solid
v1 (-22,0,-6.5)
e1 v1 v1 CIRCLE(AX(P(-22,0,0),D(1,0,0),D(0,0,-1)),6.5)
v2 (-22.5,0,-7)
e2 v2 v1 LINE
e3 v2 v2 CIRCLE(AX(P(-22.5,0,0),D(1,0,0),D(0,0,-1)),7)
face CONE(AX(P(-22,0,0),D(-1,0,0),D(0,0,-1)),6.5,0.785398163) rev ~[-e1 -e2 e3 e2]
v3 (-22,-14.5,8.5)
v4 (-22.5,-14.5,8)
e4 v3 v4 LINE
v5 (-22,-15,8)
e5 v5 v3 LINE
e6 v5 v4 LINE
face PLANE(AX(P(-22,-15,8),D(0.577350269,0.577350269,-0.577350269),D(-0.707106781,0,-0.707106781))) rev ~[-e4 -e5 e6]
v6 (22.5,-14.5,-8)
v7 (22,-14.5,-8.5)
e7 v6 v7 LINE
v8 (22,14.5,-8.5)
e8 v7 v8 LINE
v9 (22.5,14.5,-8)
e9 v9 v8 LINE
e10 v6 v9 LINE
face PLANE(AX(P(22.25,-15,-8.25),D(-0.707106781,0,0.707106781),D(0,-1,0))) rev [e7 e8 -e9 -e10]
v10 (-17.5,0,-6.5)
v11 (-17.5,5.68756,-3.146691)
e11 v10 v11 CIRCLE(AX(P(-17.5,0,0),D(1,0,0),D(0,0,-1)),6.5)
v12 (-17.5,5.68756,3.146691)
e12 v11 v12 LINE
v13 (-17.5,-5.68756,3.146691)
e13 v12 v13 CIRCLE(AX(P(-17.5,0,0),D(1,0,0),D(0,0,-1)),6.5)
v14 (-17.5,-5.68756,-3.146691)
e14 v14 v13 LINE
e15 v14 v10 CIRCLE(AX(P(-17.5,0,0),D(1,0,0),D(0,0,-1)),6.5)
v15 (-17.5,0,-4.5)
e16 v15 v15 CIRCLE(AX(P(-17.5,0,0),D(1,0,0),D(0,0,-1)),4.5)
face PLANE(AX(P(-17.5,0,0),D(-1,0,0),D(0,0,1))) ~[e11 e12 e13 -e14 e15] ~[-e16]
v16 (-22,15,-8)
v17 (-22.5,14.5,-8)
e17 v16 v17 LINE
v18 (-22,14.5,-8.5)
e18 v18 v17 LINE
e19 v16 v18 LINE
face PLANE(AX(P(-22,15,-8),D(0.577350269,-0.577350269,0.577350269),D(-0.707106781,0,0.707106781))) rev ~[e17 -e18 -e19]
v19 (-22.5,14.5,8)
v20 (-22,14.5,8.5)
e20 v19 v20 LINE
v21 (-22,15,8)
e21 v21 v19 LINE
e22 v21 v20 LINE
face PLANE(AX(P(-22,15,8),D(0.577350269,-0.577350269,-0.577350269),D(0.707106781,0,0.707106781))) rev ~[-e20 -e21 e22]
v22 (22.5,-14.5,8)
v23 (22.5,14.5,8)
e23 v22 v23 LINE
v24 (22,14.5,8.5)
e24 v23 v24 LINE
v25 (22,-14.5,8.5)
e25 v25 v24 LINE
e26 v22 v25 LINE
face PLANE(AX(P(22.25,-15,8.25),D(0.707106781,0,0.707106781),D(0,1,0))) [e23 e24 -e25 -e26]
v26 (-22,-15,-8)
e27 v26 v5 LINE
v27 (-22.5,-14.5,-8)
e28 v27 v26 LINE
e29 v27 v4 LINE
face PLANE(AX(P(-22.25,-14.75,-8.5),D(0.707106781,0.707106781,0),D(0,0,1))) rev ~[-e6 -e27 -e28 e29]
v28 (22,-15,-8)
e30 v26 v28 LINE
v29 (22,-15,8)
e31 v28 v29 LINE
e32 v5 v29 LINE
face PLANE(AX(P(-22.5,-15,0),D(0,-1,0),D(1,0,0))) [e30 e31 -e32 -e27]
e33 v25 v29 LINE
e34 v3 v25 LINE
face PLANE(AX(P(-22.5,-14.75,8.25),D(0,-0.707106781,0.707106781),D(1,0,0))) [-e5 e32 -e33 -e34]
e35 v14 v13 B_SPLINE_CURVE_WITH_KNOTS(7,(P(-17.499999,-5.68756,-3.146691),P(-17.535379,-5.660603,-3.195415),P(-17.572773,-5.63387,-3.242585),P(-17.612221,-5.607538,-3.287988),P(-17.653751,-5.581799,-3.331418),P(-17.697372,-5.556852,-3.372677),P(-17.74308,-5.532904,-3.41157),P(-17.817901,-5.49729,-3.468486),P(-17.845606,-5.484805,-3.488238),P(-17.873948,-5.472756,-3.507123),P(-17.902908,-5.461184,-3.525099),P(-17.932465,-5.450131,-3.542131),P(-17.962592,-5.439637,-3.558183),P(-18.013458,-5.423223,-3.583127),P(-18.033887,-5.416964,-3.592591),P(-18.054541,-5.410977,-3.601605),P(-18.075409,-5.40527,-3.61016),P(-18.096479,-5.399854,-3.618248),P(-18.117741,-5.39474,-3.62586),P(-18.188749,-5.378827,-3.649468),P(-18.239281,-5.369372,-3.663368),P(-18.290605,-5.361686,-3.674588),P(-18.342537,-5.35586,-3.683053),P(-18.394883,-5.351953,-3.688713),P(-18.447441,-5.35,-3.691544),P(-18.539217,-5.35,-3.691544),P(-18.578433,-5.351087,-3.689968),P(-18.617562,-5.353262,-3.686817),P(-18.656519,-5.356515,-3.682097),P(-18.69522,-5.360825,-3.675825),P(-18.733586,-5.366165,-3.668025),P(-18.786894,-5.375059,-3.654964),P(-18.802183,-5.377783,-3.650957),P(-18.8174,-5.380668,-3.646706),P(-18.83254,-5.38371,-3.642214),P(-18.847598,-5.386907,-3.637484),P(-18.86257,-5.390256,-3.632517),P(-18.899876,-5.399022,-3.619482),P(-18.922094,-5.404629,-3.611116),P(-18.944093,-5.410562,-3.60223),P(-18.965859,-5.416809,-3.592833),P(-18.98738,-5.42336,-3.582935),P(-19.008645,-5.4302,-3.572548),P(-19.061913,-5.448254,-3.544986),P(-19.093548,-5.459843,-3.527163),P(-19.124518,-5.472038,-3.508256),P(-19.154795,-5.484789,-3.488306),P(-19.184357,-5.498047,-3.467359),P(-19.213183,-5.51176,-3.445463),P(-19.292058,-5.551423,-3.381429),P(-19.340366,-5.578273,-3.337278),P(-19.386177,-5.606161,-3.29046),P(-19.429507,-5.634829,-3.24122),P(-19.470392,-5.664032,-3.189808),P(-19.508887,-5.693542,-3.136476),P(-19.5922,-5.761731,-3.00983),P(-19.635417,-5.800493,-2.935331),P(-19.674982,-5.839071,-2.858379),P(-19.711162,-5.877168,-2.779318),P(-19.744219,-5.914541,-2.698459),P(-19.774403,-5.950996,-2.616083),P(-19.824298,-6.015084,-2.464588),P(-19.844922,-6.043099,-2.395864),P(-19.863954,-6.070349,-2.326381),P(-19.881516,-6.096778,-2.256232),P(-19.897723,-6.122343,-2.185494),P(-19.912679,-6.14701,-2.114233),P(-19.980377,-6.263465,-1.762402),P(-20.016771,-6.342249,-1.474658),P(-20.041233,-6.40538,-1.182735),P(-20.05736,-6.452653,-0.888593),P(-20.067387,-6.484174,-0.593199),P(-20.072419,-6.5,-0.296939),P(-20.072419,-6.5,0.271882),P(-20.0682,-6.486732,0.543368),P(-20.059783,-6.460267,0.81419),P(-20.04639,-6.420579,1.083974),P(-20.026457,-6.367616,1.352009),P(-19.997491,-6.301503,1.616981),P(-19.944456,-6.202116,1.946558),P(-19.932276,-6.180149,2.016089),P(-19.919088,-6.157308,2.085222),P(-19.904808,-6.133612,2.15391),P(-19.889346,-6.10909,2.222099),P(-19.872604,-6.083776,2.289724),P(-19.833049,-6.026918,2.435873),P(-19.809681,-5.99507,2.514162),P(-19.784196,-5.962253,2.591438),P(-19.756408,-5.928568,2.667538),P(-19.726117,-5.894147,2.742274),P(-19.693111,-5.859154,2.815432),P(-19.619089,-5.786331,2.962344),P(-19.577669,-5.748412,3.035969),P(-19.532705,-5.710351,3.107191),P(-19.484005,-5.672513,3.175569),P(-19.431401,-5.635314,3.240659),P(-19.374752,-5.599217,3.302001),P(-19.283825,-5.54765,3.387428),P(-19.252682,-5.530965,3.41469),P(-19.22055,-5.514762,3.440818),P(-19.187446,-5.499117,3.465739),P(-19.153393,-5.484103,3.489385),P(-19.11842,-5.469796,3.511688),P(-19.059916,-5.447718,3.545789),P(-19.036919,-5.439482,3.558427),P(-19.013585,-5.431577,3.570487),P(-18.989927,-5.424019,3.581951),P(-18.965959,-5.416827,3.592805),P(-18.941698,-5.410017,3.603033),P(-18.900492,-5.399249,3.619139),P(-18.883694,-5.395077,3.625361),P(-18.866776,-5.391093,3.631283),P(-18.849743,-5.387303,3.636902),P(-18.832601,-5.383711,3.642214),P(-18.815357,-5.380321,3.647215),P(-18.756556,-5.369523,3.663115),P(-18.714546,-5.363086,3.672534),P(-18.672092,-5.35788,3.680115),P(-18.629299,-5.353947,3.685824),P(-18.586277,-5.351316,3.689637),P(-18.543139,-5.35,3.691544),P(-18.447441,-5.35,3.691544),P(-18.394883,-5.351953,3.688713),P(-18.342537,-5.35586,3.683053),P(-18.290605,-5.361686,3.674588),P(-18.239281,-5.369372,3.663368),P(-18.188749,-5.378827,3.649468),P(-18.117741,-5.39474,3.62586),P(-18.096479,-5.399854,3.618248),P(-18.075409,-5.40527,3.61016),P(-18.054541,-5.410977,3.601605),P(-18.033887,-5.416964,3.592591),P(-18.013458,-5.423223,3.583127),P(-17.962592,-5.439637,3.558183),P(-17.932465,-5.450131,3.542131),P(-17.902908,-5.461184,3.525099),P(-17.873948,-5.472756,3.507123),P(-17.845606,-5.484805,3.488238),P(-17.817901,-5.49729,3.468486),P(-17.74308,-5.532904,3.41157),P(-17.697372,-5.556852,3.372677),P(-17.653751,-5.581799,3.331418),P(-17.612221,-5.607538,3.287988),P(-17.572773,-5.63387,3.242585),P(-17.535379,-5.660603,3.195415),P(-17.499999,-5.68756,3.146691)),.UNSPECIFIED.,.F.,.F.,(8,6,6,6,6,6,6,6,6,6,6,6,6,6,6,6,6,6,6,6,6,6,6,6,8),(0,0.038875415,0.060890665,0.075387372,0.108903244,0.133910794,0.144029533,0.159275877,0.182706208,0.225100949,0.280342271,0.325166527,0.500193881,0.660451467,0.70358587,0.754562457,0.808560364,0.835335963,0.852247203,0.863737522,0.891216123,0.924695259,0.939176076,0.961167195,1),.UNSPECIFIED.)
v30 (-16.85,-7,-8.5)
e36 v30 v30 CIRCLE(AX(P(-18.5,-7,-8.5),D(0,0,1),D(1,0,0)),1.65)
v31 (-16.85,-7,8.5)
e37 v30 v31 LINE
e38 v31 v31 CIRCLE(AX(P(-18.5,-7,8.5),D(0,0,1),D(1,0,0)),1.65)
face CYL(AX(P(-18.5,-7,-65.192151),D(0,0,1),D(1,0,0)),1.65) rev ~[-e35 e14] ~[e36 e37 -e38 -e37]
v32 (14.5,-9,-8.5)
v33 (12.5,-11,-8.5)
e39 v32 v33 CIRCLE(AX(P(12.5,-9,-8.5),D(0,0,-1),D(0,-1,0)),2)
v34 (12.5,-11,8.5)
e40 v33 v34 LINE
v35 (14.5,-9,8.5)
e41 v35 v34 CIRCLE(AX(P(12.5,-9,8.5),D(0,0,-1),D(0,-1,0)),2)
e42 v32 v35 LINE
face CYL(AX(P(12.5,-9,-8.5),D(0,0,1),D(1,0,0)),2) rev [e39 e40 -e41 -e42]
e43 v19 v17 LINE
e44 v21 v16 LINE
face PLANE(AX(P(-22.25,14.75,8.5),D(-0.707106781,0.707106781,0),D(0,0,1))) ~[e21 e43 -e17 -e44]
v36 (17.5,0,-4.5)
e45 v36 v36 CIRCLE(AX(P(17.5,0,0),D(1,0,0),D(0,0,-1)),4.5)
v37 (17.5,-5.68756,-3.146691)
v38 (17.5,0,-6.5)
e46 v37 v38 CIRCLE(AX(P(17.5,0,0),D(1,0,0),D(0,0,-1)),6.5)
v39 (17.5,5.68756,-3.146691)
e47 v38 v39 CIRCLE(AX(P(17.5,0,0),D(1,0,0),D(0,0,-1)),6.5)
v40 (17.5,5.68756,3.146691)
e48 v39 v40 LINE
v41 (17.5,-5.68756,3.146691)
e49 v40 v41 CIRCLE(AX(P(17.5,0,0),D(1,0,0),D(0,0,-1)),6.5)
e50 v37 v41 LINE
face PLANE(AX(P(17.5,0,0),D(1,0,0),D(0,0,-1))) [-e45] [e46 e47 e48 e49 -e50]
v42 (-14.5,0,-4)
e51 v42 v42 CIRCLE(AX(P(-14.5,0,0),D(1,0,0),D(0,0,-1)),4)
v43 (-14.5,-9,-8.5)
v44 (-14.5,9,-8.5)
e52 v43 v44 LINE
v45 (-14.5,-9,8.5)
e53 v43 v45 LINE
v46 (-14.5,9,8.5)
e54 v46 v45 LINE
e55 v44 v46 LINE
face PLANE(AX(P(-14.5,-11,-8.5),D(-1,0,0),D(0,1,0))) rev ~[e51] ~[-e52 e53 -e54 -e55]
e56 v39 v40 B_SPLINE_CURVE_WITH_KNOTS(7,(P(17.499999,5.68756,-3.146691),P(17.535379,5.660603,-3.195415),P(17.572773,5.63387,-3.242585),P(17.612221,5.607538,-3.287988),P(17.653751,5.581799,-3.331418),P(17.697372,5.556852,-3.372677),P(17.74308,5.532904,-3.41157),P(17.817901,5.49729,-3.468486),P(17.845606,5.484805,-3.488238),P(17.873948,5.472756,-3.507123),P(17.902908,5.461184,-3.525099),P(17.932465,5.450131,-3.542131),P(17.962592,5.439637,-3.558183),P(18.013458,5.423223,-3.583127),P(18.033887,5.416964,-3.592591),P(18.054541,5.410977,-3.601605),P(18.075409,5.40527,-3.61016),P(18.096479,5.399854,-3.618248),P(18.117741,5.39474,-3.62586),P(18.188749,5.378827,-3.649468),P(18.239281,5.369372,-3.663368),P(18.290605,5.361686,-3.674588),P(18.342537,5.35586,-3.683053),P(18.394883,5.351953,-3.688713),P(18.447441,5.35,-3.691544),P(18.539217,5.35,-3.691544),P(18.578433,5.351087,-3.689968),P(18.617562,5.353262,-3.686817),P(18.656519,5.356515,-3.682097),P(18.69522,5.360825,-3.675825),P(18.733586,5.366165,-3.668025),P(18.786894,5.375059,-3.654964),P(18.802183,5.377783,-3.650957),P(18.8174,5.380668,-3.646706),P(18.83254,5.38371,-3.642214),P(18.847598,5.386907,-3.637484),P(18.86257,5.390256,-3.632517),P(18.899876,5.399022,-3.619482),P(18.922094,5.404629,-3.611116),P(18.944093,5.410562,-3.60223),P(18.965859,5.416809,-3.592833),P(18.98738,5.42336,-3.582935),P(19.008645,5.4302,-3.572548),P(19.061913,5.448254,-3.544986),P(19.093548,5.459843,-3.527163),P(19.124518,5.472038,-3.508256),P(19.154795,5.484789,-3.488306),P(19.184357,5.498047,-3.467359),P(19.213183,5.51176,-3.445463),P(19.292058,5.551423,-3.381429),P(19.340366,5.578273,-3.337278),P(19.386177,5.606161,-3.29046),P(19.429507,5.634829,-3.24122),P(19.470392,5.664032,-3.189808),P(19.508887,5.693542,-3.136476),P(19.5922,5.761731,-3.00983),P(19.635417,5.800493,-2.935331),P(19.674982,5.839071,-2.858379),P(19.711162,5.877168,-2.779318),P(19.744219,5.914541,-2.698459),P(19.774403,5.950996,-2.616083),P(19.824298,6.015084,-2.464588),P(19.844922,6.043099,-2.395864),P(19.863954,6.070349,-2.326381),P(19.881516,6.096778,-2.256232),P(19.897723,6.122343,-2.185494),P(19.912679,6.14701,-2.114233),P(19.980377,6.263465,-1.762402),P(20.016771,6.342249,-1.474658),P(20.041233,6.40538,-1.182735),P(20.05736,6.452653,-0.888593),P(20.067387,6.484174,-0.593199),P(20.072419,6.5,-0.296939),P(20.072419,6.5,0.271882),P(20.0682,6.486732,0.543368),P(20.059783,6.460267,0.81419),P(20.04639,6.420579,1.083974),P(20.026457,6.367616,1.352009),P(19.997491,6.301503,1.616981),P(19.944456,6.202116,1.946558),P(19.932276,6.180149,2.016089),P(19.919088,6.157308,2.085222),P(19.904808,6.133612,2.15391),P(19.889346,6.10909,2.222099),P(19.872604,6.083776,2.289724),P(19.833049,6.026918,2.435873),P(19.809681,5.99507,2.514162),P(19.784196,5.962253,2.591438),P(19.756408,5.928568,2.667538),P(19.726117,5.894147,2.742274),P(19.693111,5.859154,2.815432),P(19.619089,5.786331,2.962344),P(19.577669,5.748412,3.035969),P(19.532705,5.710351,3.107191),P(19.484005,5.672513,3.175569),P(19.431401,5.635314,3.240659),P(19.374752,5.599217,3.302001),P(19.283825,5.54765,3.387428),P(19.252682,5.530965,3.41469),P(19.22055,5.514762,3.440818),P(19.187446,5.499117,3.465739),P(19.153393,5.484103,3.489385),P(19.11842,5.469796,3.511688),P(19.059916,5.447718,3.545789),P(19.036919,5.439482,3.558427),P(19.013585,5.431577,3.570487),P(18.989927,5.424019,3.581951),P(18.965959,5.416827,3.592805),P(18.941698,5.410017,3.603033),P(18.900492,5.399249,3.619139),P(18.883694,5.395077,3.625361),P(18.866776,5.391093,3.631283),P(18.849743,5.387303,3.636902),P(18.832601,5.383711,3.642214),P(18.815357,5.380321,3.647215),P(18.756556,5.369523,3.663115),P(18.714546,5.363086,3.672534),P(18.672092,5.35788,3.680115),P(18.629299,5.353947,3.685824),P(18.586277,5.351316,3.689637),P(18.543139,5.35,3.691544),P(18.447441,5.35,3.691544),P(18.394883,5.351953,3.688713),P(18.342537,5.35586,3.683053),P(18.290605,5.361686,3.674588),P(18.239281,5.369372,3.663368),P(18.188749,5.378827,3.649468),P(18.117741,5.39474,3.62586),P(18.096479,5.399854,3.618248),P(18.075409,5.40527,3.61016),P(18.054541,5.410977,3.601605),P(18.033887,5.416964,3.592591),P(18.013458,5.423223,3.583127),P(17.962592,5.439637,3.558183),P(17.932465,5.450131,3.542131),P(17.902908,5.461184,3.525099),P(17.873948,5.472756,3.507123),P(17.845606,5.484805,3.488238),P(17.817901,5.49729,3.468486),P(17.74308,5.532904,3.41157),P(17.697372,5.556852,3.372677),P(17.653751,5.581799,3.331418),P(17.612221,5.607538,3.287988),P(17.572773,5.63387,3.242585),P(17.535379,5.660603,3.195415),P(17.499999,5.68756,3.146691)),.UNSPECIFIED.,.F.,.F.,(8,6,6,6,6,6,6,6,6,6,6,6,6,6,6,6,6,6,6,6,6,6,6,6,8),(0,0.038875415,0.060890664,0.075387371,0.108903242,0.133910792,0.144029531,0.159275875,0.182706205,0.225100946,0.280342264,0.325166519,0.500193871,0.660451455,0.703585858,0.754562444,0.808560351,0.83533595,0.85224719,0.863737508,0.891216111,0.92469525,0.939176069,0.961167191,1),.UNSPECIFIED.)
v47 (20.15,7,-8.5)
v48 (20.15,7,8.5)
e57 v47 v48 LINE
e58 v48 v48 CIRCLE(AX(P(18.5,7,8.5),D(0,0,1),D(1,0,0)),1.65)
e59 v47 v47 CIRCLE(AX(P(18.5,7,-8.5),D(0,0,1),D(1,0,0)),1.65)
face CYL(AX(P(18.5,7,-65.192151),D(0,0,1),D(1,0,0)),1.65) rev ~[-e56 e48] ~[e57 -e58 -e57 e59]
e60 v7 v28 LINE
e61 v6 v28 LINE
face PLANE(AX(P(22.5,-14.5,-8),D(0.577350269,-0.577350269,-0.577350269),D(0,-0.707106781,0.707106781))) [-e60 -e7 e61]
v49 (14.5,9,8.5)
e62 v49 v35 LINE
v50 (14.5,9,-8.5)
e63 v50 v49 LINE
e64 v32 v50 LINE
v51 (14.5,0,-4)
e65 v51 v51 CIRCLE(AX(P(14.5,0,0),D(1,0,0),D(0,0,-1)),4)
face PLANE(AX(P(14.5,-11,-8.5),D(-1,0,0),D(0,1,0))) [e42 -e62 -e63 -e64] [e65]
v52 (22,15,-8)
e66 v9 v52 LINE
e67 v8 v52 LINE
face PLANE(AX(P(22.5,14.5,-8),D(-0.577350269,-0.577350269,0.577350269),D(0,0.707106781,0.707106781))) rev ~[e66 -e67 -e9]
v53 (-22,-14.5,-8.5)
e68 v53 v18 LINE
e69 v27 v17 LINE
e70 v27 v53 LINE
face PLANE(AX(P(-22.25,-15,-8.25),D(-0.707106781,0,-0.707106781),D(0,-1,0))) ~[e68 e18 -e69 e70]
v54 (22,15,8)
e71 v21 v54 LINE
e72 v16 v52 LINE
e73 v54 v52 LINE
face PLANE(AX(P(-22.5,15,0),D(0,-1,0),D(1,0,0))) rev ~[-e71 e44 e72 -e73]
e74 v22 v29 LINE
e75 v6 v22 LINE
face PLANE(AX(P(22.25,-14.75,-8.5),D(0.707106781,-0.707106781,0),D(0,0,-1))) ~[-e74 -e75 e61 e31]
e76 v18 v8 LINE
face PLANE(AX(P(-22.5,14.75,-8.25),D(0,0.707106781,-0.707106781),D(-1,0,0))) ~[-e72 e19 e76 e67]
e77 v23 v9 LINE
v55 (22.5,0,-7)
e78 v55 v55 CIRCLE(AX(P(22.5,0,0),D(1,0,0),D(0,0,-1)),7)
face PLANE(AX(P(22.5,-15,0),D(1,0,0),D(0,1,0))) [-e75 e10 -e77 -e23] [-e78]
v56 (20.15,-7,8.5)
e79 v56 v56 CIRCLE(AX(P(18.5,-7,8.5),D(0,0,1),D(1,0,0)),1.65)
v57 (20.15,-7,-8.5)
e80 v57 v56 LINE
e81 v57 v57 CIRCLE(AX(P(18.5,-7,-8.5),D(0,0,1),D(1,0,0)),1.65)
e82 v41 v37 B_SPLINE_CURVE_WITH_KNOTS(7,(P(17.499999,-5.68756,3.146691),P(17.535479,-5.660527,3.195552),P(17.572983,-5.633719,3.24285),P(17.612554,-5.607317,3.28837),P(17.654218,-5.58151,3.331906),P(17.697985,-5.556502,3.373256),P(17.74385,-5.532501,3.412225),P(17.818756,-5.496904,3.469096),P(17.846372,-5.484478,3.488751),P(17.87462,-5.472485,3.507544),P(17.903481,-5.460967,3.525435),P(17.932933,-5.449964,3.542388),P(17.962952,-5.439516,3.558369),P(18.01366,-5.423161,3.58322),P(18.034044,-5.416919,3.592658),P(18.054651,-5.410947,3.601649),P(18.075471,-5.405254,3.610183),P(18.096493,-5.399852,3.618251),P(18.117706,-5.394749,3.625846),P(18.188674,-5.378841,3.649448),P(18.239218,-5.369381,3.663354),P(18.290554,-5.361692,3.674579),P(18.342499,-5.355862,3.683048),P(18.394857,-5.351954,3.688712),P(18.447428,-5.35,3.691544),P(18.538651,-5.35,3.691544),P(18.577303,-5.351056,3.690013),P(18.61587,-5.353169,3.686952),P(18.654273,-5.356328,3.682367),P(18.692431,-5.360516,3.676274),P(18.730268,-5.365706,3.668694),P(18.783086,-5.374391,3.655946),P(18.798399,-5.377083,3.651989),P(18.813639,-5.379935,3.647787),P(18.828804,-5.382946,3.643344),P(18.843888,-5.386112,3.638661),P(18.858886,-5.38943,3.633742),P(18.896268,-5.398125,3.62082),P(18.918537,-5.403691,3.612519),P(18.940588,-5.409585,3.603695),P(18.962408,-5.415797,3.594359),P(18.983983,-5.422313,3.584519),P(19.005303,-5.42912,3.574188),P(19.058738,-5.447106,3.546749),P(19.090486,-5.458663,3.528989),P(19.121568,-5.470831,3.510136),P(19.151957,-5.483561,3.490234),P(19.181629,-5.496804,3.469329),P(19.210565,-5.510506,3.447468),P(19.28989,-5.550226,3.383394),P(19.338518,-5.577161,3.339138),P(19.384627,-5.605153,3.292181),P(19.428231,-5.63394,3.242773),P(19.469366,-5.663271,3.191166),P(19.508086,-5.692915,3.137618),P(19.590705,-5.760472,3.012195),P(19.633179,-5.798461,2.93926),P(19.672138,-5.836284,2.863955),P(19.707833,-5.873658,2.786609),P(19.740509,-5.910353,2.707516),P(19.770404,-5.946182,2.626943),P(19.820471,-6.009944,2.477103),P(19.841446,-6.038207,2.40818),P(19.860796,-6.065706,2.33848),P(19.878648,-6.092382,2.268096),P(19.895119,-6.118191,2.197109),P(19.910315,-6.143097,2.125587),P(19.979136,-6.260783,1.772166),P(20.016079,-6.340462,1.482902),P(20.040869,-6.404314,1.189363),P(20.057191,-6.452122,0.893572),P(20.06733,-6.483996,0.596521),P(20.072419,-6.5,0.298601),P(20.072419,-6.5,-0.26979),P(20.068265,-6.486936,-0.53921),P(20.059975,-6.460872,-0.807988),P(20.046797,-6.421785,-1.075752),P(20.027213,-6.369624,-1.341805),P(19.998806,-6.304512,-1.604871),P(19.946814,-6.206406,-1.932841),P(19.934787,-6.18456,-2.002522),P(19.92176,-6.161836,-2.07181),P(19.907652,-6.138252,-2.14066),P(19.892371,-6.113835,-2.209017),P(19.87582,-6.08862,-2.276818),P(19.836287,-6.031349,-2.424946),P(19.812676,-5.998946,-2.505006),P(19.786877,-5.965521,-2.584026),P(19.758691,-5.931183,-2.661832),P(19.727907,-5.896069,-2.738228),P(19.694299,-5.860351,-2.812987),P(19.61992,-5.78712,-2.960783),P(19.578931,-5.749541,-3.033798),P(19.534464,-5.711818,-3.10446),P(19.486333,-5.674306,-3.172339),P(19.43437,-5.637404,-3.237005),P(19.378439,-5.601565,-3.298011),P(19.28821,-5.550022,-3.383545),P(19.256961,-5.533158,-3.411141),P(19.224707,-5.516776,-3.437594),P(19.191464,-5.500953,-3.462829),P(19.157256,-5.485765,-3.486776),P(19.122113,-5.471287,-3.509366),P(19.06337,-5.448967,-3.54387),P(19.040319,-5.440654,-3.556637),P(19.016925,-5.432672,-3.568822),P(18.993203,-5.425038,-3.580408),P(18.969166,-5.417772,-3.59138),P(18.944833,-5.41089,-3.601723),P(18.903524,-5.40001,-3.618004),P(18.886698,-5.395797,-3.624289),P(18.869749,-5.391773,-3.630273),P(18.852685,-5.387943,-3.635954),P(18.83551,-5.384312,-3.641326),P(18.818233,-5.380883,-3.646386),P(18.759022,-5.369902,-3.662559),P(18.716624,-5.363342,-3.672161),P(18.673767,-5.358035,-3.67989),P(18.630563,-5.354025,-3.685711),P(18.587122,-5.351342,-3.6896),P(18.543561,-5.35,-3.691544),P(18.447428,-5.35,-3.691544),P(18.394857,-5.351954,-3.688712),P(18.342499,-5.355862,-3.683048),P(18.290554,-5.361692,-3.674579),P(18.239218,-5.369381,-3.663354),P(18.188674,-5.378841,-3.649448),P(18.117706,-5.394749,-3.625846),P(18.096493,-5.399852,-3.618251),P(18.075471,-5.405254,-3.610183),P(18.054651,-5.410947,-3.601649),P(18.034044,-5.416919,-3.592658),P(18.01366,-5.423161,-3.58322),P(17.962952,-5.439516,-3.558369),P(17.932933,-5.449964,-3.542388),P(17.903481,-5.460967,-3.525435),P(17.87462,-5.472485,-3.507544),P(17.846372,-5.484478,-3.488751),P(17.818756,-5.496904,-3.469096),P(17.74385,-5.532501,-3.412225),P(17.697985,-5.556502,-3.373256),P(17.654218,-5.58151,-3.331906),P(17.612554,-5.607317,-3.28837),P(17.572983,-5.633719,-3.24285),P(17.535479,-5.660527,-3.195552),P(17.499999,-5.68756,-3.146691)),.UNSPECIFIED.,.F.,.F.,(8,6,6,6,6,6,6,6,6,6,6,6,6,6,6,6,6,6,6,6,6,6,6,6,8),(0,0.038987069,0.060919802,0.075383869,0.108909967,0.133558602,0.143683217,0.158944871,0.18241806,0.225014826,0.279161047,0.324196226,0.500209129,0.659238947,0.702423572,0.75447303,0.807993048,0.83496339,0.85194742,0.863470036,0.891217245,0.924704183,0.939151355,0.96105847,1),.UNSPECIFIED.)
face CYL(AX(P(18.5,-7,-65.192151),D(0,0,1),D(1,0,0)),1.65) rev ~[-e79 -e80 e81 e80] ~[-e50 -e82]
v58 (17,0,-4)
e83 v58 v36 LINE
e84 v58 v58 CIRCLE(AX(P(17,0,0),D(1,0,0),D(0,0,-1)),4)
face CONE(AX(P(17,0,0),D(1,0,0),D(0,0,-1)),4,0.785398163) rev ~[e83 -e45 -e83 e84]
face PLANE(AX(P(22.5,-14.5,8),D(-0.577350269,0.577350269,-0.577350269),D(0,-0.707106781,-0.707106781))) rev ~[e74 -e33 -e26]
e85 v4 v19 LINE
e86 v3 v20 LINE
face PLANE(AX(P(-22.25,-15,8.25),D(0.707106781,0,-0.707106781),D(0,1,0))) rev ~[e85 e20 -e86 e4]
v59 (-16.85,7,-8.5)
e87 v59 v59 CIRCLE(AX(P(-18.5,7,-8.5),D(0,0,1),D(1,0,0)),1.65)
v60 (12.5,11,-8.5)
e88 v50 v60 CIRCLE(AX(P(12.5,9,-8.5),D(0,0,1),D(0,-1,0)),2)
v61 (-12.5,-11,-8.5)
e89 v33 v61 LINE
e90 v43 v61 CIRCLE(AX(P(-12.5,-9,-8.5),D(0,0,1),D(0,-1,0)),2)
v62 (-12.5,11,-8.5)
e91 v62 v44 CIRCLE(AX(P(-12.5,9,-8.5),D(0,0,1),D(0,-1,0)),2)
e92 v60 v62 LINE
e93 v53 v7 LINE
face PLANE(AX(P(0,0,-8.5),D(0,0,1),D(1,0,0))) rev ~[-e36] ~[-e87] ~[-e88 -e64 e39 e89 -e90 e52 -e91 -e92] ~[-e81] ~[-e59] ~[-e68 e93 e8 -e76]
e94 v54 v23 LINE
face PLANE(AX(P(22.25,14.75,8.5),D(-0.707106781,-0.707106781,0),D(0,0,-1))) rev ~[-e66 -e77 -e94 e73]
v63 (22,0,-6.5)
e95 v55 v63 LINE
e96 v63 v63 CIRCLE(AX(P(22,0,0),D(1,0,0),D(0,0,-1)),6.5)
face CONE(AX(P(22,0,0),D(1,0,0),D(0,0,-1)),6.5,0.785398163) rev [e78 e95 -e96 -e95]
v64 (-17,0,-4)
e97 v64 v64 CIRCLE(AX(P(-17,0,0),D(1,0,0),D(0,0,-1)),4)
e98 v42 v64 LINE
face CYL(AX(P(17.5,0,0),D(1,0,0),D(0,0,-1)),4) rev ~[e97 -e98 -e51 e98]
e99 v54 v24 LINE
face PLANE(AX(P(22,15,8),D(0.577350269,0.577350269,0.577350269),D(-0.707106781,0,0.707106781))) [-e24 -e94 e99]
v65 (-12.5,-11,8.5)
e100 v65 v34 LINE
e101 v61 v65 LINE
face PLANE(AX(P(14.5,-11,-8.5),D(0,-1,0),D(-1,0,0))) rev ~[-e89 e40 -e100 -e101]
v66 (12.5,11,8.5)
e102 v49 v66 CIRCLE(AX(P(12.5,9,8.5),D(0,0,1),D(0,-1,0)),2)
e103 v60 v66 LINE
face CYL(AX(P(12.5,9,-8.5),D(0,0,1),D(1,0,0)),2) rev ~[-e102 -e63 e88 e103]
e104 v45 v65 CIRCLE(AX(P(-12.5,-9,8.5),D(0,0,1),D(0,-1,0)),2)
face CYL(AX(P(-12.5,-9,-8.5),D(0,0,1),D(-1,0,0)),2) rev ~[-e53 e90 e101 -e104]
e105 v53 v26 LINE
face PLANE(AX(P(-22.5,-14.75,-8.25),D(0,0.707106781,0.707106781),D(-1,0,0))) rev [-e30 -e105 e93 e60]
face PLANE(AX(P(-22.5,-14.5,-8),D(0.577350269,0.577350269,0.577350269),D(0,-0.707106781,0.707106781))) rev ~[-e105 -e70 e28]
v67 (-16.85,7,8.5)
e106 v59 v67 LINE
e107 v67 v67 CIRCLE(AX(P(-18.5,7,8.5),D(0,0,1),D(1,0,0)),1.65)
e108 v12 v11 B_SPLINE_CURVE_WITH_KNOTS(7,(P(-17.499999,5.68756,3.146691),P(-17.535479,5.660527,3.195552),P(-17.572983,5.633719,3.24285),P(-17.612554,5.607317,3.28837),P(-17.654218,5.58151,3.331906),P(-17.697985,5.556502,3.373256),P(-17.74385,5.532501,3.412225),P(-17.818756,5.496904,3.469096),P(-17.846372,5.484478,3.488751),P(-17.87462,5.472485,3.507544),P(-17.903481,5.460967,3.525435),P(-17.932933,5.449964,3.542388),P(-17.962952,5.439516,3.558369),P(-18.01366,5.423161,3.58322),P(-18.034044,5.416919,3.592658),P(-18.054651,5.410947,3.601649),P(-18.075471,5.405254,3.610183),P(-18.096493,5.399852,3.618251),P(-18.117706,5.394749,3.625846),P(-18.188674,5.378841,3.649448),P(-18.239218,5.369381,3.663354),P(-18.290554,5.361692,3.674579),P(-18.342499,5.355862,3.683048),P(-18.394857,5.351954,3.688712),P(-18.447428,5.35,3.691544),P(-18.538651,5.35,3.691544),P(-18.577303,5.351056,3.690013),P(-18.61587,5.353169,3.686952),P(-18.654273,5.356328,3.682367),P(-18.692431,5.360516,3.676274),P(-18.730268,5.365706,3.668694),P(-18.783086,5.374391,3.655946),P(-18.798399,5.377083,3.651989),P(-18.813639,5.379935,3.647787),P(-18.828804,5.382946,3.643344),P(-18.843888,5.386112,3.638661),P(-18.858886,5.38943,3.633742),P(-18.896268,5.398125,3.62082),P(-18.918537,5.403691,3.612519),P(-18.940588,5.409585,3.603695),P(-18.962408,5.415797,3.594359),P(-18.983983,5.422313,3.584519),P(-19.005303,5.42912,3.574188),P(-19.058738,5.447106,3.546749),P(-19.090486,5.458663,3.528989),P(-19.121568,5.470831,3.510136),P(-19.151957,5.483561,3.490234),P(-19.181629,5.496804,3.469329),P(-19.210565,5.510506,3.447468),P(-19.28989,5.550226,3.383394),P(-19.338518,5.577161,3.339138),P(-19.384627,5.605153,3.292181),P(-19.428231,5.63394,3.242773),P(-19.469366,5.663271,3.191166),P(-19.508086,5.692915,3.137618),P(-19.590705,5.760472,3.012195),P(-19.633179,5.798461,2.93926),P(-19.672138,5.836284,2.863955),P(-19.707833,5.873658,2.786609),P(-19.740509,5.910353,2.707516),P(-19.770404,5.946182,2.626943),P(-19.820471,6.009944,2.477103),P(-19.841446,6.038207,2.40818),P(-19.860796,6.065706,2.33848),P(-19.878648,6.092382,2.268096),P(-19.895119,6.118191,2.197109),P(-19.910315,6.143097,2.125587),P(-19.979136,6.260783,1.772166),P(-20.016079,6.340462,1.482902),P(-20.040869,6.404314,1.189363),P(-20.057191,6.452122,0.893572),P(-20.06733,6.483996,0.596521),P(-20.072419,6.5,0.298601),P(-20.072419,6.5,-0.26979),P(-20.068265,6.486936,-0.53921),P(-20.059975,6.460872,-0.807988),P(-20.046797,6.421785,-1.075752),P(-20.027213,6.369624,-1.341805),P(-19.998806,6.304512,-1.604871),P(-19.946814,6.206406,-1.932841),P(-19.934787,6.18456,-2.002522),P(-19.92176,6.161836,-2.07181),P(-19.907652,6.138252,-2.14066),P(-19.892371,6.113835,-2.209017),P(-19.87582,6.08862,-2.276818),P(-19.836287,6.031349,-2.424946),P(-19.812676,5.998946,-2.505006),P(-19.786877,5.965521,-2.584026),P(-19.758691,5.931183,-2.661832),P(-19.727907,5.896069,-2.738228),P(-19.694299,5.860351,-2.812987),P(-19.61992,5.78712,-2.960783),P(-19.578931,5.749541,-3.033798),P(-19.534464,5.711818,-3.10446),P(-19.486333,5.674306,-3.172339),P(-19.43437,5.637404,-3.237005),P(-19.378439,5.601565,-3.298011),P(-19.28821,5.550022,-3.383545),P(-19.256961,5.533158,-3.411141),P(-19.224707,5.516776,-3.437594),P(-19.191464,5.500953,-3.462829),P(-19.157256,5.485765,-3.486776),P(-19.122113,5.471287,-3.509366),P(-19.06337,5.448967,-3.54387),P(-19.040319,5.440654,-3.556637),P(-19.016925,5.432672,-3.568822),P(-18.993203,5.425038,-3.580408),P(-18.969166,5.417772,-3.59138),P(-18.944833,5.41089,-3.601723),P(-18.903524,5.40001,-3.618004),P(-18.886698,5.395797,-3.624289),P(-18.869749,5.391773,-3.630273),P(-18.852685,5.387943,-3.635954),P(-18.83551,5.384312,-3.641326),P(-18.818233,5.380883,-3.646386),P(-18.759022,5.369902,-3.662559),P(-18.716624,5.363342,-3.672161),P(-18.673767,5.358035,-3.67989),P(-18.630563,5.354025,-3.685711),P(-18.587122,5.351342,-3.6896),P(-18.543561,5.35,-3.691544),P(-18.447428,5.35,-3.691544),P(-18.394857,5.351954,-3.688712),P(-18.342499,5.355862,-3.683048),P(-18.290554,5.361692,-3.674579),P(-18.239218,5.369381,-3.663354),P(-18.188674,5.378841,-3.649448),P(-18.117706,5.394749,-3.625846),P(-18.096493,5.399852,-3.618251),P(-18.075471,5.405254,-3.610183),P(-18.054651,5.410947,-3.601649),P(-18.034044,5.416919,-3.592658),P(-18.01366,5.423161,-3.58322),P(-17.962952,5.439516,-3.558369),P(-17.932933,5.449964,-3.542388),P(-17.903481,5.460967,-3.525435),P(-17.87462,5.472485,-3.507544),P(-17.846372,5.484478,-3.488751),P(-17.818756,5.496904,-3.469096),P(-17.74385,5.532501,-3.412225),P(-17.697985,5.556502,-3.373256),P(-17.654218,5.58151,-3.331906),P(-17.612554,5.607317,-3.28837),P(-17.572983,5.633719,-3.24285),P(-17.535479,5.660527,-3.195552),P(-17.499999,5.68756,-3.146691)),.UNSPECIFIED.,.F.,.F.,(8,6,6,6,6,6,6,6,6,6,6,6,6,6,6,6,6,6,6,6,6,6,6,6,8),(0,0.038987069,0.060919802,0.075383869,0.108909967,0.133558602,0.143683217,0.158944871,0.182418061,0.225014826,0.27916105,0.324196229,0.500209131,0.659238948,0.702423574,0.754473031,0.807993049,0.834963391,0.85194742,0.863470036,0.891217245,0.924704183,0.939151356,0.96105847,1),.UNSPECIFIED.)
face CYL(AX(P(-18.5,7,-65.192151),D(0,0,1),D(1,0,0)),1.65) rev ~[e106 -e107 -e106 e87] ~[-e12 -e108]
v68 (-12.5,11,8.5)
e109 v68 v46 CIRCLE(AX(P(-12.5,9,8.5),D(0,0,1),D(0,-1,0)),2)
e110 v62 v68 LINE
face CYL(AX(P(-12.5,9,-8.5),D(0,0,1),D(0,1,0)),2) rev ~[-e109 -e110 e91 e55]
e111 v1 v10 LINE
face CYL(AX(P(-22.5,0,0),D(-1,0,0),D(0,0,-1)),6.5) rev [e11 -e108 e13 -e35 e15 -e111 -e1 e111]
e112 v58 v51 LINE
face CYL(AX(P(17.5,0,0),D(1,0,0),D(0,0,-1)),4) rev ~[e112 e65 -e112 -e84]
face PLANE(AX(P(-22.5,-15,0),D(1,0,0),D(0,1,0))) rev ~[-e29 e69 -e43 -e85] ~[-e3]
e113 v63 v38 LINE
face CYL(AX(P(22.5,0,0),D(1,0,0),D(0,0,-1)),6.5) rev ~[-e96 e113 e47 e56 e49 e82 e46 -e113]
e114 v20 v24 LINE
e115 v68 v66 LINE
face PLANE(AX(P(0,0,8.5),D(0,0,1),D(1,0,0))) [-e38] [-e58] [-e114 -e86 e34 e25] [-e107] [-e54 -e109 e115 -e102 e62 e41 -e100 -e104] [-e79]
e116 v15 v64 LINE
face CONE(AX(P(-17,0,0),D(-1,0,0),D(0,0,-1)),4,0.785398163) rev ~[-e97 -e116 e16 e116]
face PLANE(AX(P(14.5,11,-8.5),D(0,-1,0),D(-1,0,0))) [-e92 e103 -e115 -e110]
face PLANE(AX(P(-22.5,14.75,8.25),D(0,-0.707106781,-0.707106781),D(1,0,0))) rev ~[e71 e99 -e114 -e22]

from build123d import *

# Parameters (mm, degrees)
SKETCH_1_W          = 45
SKETCH_1_H          = 30
EXTRUDE_1_DEPTH     = 8.5
SKETCH_2_R          = 6.5
CUT_EXTRUDE_1_DEPTH = 5
SKETCH_3_R          = 4
CUT_EXTRUDE_2_DEPTH = 53
CHAMFER_1_SIZE      = 0.5
HOLE_WIZARD_M4_1_D  = 3.3
SKETCH_7_W          = 29
SKETCH_7_H          = 22
CUT_EXTRUDE_3_DEPTH = 53
FILLET_1_R          = 2
CHAMFER_2_SIZE      = 0.5


with BuildPart() as part:
    # 草图1 → 凸台-拉伸1 (new body, symmetric)
    with BuildSketch(Plane.XY):
        Rectangle(SKETCH_1_W, SKETCH_1_H)
    extrude(amount=EXTRUDE_1_DEPTH, both=True)

    # 草图2 → 切除-拉伸1 (cut)
    with BuildSketch(Plane(origin=(22.5, 0, 0), x_dir=(0, 0, -1), z_dir=(1, 0, 0))):
        Circle(SKETCH_2_R)
    cut_extrude_1 = extrude(amount=-CUT_EXTRUDE_1_DEPTH, mode=Mode.SUBTRACT)

    # 镜向1: 切除-拉伸1 across plane
    add(cut_extrude_1.mirror(Plane(origin=(0, 0, 0), x_dir=(0, 0, 1), z_dir=(1, 0, 0))), mode=Mode.SUBTRACT)

    # 草图3 → 切除-拉伸2 (cut)
    with BuildSketch(Plane(origin=(17.5, 0, 0), x_dir=(0, 0, -1), z_dir=(1, 0, 0))):
        Circle(SKETCH_3_R)
    extrude(amount=-CUT_EXTRUDE_2_DEPTH, mode=Mode.SUBTRACT)

    # 倒角1
    chamfer_1_edges = [part.edges().sort_by_distance(p)[0] for p in [
        (22.5, 0, 6.5),
        (-22.5, 0, 6.5),
        (-17.5, 0, 4),
        (17.5, 0, 4),
    ]]
    chamfer(chamfer_1_edges, length=CHAMFER_1_SIZE)

    # M4 螺纹孔1 (through all)
    with Locations(Plane(origin=(0, 0, -8.5), x_dir=(-1, 0, 0), z_dir=(0, 0, -1))):
        with Locations((-18.5, 7), (18.5, 7), (-18.5, -7), (18.5, -7)):
            Hole(HOLE_WIZARD_M4_1_D / 2)

    # 草图7 → 切除-拉伸3 (cut)
    with BuildSketch(Plane(origin=(0, 0, -8.5), x_dir=(-1, 0, 0), z_dir=(0, 0, -1))):
        Rectangle(SKETCH_7_W, SKETCH_7_H)
    extrude(amount=-CUT_EXTRUDE_3_DEPTH, mode=Mode.SUBTRACT)

    # 圆角1
    fillet_1_edges = [part.edges().sort_by_distance(p)[0] for p in [
        (-14.5, -11, 0),
        (14.5, 11, 0),
        (-14.5, 11, 0),
        (14.5, -11, 0),
    ]]
    fillet(fillet_1_edges, radius=FILLET_1_R)

    # 倒角2
    chamfer_2_edges = [part.edges().sort_by_distance(p)[0] for p in [
        (-22.5, 0, 8.5),
        (0, -15, 8.5),
        (22.5, 0, 8.5),
        (0, -15, -8.5),
        (-22.5, 0, -8.5),
        (0, 15, -8.5),
        (22.5, 0, -8.5),
        (22.5, -15, 0),
        (-22.5, -15, 0),
        (-22.5, 15, 0),
        (22.5, 15, 0),
        (0, 15, 8.5),
    ]]
    chamfer(chamfer_2_edges, length=CHAMFER_2_SIZE)


solid = part.part
